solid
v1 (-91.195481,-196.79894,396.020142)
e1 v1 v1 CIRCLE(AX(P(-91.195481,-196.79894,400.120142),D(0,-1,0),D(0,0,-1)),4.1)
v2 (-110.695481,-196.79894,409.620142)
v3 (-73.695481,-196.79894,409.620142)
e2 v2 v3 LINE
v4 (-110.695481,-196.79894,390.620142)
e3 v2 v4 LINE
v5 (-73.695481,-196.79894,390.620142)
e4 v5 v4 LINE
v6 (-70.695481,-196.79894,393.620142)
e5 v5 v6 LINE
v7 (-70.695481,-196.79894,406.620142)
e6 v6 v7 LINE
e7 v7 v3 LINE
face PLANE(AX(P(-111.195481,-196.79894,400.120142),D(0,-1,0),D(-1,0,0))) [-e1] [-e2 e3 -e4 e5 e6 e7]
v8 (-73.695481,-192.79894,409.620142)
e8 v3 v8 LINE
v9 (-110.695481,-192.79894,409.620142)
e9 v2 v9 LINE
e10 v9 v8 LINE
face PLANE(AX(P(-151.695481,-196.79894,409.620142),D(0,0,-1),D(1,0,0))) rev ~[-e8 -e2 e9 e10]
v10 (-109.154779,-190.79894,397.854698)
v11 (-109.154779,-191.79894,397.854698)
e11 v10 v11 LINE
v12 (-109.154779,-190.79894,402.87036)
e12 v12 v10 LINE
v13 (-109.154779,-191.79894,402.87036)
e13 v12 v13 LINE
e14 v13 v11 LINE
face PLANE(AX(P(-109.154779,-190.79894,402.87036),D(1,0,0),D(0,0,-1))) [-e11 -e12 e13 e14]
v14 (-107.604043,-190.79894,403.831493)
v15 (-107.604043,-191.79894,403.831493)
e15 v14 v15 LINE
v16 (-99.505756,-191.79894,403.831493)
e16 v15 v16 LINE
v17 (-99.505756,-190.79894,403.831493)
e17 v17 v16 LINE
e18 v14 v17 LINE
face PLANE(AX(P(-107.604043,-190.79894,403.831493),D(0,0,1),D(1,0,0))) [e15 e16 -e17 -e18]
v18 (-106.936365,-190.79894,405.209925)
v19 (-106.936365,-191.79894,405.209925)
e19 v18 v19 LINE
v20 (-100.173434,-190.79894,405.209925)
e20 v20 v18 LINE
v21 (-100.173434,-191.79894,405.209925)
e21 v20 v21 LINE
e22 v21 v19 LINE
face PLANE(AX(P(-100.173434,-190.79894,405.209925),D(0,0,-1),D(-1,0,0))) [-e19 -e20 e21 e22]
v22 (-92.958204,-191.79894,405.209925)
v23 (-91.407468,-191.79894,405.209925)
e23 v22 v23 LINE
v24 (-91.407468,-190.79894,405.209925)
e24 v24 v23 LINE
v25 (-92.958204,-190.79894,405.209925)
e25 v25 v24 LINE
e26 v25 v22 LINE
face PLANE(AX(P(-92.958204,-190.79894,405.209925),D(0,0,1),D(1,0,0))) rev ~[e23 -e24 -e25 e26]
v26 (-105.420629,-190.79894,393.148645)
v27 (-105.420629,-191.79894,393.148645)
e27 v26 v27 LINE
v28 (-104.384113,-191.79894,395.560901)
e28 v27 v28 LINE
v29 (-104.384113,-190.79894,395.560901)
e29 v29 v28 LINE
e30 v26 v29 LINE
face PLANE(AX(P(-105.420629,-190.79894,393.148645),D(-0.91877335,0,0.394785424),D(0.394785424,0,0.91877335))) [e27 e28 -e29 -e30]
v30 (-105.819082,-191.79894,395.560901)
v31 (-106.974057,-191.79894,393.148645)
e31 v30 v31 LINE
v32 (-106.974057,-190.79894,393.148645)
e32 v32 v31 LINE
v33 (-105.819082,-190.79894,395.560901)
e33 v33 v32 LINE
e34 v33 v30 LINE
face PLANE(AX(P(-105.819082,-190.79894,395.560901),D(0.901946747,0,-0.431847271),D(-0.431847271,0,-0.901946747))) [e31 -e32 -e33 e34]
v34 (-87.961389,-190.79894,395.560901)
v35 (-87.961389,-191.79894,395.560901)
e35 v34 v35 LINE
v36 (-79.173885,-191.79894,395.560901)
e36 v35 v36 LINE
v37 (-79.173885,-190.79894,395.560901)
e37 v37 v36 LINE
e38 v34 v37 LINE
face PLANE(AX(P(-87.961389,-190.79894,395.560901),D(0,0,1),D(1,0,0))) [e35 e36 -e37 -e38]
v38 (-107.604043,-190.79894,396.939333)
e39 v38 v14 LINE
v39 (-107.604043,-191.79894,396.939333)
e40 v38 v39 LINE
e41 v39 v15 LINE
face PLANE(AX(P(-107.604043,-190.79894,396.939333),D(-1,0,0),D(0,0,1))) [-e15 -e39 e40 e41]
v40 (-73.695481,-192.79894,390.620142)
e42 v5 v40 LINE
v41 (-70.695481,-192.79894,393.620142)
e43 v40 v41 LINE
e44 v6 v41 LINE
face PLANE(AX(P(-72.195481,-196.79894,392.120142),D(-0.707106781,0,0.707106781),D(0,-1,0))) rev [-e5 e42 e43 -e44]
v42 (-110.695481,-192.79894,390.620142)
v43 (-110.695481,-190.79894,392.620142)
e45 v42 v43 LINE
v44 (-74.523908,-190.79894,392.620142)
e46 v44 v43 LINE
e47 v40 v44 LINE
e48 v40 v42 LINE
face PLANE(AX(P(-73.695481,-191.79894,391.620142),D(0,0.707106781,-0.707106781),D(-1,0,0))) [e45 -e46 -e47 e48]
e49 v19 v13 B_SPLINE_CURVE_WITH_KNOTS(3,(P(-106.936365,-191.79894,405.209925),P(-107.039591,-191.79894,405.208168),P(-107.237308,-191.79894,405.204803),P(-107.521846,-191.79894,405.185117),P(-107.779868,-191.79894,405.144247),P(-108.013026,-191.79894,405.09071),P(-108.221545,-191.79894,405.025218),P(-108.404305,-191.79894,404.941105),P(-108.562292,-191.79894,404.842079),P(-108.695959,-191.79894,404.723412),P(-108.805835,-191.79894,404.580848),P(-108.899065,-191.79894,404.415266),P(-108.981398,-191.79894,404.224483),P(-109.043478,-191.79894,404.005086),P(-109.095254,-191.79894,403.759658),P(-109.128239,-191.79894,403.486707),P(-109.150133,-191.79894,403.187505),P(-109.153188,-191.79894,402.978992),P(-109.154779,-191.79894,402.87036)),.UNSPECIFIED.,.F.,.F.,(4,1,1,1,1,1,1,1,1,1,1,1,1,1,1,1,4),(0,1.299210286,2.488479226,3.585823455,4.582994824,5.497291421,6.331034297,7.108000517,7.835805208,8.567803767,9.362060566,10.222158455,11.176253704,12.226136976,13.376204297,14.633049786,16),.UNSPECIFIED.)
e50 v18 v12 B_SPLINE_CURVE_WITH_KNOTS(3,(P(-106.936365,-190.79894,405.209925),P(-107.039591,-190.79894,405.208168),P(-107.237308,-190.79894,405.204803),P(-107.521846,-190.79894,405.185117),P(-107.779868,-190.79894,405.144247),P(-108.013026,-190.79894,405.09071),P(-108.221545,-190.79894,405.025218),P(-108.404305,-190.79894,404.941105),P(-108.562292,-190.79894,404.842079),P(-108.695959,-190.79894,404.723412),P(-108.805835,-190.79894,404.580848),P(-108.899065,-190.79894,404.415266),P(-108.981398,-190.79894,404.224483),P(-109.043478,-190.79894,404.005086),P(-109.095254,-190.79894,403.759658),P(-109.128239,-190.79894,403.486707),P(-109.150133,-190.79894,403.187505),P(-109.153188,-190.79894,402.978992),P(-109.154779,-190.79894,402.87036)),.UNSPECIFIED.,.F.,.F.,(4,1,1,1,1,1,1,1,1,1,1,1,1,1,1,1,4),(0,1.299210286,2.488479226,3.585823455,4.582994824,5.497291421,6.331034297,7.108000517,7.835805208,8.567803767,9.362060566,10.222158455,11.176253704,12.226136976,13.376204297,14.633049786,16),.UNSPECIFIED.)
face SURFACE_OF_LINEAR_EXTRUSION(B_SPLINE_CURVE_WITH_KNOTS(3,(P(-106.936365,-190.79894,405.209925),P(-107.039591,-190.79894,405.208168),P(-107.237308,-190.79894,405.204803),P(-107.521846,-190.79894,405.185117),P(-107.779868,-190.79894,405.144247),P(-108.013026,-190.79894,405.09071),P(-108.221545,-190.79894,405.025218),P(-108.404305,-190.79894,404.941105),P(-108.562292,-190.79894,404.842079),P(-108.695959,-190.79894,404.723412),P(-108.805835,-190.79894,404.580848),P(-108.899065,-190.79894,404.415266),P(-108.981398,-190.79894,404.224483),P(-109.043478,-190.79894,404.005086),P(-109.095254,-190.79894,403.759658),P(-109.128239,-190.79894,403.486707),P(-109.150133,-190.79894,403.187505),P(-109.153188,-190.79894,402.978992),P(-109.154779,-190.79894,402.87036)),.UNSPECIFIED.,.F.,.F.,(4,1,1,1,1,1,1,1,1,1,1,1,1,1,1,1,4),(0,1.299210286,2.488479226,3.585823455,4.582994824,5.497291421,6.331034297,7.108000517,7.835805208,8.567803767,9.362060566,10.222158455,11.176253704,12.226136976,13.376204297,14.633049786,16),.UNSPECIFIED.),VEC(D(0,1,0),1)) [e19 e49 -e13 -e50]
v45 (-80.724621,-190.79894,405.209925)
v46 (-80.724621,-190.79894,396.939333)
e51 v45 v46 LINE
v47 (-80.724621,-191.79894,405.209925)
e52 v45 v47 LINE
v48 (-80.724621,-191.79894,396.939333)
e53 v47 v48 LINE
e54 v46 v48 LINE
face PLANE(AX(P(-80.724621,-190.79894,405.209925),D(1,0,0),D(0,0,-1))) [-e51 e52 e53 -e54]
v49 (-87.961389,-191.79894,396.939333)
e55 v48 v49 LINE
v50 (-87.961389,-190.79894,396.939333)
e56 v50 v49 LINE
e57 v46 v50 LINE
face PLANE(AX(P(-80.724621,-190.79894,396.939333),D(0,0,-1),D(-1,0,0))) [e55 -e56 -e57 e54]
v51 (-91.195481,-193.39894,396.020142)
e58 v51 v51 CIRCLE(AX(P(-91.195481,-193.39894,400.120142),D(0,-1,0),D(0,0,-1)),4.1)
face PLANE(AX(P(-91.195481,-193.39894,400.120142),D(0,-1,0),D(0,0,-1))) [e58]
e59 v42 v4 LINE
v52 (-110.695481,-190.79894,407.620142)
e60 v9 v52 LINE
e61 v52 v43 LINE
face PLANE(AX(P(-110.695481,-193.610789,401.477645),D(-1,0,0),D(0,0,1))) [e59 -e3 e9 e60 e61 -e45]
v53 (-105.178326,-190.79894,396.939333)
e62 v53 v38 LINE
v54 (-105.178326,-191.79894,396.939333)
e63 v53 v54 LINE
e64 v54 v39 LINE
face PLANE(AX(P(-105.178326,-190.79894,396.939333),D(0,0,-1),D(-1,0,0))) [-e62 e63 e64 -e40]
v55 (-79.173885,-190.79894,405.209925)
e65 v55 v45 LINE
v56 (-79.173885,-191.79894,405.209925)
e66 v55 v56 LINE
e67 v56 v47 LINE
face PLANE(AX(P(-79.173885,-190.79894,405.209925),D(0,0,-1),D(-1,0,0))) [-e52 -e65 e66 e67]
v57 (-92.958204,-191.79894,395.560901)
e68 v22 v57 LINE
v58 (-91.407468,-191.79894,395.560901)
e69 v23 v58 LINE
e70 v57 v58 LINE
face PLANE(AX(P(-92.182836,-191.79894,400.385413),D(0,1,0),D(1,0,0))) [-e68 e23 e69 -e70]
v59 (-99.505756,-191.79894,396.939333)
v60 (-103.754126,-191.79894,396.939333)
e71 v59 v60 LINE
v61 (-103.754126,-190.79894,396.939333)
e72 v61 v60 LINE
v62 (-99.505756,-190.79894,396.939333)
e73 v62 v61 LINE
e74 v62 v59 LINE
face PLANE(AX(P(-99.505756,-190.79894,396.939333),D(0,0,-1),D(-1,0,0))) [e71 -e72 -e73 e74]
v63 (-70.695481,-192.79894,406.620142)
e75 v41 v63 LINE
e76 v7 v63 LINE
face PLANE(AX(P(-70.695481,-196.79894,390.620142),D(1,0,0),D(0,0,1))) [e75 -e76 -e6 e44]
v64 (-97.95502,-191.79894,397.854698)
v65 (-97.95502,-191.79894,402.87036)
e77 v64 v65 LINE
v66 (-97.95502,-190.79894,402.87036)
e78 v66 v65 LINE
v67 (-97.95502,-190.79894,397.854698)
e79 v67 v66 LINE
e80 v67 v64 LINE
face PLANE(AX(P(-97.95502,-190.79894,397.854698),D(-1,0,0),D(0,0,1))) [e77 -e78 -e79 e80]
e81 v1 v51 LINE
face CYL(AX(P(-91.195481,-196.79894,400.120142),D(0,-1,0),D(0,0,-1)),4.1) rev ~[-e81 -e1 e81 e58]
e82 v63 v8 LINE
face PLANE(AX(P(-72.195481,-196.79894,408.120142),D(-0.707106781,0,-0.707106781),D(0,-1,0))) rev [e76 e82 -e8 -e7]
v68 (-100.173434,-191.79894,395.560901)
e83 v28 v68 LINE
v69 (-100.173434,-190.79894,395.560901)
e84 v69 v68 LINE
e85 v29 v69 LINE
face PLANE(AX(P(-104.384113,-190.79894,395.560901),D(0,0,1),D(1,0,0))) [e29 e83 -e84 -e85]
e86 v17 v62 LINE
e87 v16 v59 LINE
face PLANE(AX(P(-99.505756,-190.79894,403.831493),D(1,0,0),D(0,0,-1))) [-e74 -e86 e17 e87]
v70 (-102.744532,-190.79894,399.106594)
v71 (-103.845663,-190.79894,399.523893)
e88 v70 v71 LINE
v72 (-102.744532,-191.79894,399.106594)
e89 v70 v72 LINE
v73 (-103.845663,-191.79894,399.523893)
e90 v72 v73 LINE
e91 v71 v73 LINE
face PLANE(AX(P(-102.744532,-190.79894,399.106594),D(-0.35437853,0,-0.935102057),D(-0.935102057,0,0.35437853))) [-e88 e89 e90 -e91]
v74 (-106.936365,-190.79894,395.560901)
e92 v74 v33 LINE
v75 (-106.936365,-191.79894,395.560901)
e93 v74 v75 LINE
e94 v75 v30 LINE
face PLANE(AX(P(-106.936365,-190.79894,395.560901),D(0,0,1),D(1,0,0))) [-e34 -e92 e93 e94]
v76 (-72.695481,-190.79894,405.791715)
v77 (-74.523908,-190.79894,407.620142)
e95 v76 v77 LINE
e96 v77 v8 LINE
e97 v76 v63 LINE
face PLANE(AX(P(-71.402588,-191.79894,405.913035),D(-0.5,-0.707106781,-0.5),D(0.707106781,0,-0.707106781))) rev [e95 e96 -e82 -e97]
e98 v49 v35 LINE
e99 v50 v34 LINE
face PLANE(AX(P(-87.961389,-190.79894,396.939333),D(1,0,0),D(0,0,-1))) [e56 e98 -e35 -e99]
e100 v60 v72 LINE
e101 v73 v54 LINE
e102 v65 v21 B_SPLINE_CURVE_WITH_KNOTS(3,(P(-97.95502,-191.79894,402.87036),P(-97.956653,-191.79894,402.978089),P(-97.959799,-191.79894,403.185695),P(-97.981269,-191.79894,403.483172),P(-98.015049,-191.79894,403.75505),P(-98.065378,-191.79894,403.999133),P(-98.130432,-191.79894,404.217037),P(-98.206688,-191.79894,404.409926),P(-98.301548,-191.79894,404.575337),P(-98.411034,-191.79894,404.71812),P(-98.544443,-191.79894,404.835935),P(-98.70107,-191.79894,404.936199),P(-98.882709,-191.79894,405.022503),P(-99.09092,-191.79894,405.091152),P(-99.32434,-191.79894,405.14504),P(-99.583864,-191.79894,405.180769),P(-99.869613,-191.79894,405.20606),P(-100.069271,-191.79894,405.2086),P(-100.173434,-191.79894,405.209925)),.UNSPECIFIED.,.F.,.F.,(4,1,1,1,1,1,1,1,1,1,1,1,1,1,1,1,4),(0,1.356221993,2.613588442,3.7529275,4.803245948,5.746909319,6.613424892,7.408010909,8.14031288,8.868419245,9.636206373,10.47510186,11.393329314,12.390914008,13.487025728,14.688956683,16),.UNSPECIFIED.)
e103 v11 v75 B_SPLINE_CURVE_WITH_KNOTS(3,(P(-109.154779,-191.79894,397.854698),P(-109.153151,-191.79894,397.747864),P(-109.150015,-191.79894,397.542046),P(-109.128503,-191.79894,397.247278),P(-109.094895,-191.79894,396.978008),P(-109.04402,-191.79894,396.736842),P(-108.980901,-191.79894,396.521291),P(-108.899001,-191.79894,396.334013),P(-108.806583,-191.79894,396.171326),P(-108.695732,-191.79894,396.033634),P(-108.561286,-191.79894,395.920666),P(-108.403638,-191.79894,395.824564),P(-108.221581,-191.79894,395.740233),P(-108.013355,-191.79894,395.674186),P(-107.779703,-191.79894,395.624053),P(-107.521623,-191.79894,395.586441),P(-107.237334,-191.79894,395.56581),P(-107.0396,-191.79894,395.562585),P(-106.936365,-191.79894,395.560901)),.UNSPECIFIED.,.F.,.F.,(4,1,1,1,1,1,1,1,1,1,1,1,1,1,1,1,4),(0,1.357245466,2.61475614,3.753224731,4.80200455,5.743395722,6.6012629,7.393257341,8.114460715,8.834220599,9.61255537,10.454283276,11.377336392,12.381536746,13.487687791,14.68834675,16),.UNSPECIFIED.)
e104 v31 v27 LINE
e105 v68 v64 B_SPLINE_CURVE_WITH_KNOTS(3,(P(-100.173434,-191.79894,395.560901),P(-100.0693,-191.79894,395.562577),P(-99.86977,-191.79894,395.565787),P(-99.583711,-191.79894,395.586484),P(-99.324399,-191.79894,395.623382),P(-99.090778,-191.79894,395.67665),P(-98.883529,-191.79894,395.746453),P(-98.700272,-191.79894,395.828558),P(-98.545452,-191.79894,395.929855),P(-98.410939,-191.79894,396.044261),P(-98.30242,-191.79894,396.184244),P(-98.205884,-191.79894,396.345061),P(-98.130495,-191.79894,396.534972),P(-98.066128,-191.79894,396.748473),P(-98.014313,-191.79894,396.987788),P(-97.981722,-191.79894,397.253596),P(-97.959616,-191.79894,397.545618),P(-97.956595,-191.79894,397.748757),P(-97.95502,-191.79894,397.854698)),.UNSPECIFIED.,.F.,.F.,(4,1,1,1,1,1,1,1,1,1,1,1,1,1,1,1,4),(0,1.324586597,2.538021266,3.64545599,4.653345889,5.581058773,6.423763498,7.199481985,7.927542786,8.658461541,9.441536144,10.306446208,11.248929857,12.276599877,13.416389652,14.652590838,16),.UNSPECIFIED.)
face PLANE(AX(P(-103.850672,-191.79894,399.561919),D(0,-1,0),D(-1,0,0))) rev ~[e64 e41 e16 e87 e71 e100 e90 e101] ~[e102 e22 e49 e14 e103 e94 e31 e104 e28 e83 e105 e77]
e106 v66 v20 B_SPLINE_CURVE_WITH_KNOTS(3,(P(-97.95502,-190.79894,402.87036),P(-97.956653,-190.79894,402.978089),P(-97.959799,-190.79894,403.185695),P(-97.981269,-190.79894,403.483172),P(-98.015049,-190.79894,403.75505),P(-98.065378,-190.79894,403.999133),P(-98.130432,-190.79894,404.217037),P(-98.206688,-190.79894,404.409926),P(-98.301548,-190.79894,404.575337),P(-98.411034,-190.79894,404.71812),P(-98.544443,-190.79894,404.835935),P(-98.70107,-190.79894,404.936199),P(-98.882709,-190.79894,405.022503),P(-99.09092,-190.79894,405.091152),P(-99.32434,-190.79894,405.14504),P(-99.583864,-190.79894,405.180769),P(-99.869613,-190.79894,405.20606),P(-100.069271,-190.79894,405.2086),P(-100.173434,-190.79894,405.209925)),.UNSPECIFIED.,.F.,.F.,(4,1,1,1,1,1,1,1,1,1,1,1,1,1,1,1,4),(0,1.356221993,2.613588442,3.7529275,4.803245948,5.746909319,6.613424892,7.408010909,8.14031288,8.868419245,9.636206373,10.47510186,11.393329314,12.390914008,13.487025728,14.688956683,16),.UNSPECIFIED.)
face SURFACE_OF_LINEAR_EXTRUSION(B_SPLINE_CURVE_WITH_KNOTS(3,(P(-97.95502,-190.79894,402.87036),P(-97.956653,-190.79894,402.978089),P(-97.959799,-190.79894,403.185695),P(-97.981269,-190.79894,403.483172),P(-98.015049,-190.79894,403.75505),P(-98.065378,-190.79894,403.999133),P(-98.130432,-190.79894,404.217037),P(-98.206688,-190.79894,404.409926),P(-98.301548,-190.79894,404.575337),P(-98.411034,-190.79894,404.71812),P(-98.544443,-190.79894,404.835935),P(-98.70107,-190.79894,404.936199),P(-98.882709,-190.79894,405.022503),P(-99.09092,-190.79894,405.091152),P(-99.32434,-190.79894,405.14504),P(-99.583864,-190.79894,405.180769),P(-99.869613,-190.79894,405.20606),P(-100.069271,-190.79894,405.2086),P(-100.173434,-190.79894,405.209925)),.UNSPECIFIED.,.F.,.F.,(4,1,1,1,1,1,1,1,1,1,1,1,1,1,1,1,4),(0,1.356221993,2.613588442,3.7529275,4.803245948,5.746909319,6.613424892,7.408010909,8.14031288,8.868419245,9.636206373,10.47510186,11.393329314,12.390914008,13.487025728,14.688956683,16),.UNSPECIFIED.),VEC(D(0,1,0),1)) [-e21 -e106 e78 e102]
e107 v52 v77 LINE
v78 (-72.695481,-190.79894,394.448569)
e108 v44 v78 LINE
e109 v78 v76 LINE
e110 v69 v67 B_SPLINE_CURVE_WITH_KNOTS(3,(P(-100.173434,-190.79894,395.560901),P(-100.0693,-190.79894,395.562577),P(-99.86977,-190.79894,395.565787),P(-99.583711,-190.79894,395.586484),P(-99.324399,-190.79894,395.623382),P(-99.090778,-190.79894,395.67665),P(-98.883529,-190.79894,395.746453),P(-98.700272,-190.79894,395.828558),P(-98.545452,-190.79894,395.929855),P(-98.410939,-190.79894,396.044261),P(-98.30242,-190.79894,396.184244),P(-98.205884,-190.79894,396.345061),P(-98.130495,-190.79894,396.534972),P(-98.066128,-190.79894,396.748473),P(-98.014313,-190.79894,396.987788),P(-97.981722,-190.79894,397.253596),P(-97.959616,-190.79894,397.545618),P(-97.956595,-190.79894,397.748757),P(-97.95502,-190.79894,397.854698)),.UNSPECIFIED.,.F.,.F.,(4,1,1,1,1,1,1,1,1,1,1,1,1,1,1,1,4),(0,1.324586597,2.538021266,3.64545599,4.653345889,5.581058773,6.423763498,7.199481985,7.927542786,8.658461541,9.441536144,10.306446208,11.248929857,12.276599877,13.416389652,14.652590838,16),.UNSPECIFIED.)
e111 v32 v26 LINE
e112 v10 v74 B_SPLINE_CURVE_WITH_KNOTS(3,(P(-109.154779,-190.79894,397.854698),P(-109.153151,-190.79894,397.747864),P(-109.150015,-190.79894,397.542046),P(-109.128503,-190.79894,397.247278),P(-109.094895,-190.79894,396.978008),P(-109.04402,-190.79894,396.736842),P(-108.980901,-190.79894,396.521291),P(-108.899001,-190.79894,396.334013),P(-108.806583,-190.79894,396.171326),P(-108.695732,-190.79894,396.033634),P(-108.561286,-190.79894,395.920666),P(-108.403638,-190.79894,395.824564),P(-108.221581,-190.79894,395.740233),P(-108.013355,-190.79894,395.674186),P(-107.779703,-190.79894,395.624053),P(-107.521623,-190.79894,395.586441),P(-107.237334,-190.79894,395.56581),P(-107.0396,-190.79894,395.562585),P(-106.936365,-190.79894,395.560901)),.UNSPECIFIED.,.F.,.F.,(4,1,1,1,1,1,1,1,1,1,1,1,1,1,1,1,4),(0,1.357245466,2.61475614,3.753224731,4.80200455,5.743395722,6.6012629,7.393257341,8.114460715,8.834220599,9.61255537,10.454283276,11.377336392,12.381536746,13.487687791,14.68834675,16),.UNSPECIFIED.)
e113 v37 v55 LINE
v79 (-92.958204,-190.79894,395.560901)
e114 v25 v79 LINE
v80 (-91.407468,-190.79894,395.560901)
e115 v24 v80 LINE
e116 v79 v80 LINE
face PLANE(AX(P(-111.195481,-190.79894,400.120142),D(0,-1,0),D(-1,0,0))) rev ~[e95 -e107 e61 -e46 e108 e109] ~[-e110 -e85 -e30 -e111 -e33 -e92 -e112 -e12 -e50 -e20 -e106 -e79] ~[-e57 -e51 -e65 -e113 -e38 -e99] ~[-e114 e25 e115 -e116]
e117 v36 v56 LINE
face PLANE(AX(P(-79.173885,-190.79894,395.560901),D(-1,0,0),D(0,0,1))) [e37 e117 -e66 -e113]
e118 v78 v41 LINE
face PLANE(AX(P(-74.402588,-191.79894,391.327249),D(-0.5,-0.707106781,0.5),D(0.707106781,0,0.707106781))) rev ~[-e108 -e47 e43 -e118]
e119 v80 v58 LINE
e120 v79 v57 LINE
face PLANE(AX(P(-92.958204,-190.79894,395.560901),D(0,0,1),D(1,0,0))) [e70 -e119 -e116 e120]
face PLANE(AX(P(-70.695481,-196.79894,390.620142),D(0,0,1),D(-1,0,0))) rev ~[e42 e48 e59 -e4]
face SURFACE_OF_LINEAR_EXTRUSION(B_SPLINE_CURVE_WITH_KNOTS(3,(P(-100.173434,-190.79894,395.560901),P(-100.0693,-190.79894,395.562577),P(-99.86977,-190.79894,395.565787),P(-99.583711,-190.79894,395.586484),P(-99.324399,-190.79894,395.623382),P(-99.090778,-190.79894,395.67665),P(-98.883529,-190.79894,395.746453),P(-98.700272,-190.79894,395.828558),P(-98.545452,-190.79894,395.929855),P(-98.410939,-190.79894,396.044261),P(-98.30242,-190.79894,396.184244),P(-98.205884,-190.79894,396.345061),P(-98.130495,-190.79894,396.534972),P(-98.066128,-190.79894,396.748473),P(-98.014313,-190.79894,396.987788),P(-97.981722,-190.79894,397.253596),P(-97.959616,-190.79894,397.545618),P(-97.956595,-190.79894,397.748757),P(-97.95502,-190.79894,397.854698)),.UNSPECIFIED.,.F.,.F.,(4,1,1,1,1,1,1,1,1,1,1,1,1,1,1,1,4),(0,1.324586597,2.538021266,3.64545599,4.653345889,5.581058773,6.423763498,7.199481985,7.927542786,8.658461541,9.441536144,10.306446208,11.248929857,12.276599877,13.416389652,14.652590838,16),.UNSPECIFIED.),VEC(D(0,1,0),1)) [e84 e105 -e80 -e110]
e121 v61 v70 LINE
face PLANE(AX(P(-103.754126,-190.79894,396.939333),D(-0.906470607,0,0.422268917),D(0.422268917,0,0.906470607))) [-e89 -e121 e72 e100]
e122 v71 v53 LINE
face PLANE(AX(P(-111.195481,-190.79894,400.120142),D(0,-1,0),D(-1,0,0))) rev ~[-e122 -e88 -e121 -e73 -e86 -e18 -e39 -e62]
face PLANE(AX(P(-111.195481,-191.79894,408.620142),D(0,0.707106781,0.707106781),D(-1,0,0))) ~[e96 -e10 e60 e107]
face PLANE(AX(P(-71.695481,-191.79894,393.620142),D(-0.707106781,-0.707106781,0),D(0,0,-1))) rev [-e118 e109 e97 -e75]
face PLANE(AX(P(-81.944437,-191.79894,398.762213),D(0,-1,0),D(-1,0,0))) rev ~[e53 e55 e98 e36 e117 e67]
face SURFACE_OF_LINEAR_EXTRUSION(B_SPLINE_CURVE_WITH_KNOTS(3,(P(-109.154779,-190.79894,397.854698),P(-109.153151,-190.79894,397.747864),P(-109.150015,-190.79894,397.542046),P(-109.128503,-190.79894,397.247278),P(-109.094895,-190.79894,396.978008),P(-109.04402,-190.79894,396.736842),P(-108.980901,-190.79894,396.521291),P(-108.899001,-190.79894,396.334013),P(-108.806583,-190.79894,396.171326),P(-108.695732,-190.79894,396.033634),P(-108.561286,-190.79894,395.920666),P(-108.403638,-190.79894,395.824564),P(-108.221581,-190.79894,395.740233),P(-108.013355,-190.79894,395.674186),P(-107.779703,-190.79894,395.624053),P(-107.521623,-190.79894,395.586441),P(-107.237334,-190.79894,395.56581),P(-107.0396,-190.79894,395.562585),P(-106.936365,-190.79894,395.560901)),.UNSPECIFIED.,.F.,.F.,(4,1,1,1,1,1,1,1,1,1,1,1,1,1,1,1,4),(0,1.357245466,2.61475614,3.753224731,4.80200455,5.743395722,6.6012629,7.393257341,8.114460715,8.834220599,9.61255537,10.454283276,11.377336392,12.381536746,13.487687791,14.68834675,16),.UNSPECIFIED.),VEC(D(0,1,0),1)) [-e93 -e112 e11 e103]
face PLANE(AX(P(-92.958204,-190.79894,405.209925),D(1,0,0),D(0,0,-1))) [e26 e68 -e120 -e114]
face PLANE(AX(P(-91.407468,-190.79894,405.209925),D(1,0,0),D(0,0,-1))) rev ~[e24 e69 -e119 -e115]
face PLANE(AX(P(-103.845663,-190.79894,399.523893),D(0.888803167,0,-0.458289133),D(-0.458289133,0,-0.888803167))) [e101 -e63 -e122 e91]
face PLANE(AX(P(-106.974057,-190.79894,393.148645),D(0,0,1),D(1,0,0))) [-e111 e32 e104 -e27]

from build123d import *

# Parameters (mm, degrees)
BOSS_EXTRUDE1_DEPTH = 6
SKETCH2_W           = 1.55073591
SKETCH2_H           = 9.649023438
SKETCH2_W_2         = 1.550735909
CUT_EXTRUDE1_DEPTH  = 1
SKETCH4_W           = 43.347942051
SKETCH4_H           = 26.329646459
CUT_EXTRUDE2_DEPTH  = 10
CHAMFER1_SIZE       = 3
CHAMFER2_SIZE       = 2
SKETCH5_W           = 34.860169367
SKETCH5_H           = 17.866082473
CUT_EXTRUDE3_DEPTH  = 0.5
SKETCH6_R           = 4.1
CUT_EXTRUDE4_DEPTH  = 3.4


with BuildPart() as part:
    # Sketch1 → Boss-Extrude1 (new body)
    with BuildSketch(Plane(origin=(0, -196.798939869, 0), x_dir=(1, 0, 0), z_dir=(0, 1, 0))):
        Polygon((-110.695481055, -390.620141885), (-70.695481055, -390.620141885), (-70.695481055, -409.620141885), (-110.695481055, -409.620141885), (-151.695481055, -409.620141885), (-151.695481055, -390.620141885), align=None)
    extrude(amount=BOSS_EXTRUDE1_DEPTH)

    # Sketch2 → Cut-Extrude1 (cut)
    # profile 1 of 6: a face of its own
    with BuildSketch(Plane(origin=(0, -190.798939869, 0), x_dir=(1, 0, 0), z_dir=(0, 1, 0))):
        with BuildLine():
            add(Edge.make_bspline(
                [(-140.767176982, -405.209924667), (-140.982622928, -405.208412821), (-141.394982016, -405.205519181), (-141.98403336, -405.168701103), (-142.517358029, -405.117955452), (-142.996891336, -405.040429638), (-143.431861328, -404.937751856), (-143.828275274, -404.808826708), (-144.192604534, -404.655107583), (-144.412843494, -404.524922655), (-144.520173264, -404.46147921)],
                knots=[0, 0, 0, 0, 1.333778163, 2.552823848, 3.653108193, 4.649746513, 5.558133507, 6.417402386, 7.228747549, 8, 8, 8, 8], degree=3))
            add(Edge.make_bspline(
                [(-144.520173264, -404.46147921), (-144.672688651, -404.354540566), (-144.977706991, -404.140671998), (-145.372980808, -403.740179693), (-145.72204175, -403.288685781), (-146.015251375, -402.783895607), (-146.252341242, -402.23844628), (-146.422101614, -401.66260039), (-146.524137936, -401.061196848), (-146.537803169, -400.652341907), (-146.544745145, -400.444642444)],
                knots=[0, 0, 0, 0, 0.952297785, 1.904517931, 2.867930349, 3.869019748, 4.885904814, 5.906780791, 6.936638737, 8, 8, 8, 8], degree=3))
            add(Edge.make_bspline(
                [(-146.544745145, -400.444642444), (-146.539017026, -400.224388593), (-146.527802756, -399.793184944), (-146.425839385, -399.164163809), (-146.258098069, -398.569953885), (-146.027848138, -398.012133469), (-145.734933397, -397.499500284), (-145.384408604, -397.041985203), (-144.985328734, -396.634035669), (-144.675593052, -396.417833194), (-144.520173264, -396.309346685)],
                knots=[0, 0, 0, 0, 1.100129358, 2.153786604, 3.174592563, 4.179911314, 5.162319574, 6.115853573, 7.05456925, 8, 8, 8, 8], degree=3))
            add(Edge.make_bspline(
                [(-144.520173264, -396.309346685), (-144.415407214, -396.247970567), (-144.198209286, -396.120727383), (-143.840423238, -395.967019912), (-143.444768852, -395.841274433), (-143.011380567, -395.735735637), (-142.529145335, -395.655193263), (-141.993148894, -395.601522013), (-141.399450617, -395.565451573), (-140.984411915, -395.562464625), (-140.767176982, -395.560901229)],
                knots=[0, 0, 0, 0, 0.751413761, 1.557809164, 2.404944974, 3.320203742, 4.317937033, 5.430050062, 6.654865437, 8, 8, 8, 8], degree=3))
            Line((-140.767176982, -395.560901229), (-135.517289788, -395.560901229))
            Line((-135.517289788, -395.560901229), (-135.517289788, -405.209924667))
            Line((-135.517289788, -405.209924667), (-140.767176982, -405.209924667))
        make_face()
        with BuildLine():
            Line((-140.538335746, -403.831492747), (-137.068025698, -403.831492747))
            Line((-137.068025698, -403.831492747), (-137.068025698, -396.939333149))
            Line((-137.068025698, -396.939333149), (-140.538335746, -396.939333149))
            add(Edge.make_bspline(
                [(-140.538335746, -396.939333149), (-140.726862755, -396.941898287), (-141.089956251, -396.946838613), (-141.61301485, -396.984845883), (-142.093527417, -397.044798091), (-142.531495923, -397.132160177), (-142.925368528, -397.248552244), (-143.278930228, -397.383732816), (-143.589154837, -397.547989389), (-143.856977936, -397.741453756), (-144.088661152, -397.964049484), (-144.285418794, -398.219866085), (-144.453911174, -398.507093156), (-144.587443165, -398.829479607), (-144.695661065, -399.182540893), (-144.769772109, -399.569730192), (-144.811875271, -399.989610443), (-144.818346787, -400.28031641), (-144.821705246, -400.431181195)],
                knots=[0, 0, 0, 0, 1.40931624, 2.714271877, 3.918424909, 5.027624621, 6.048757475, 6.985660279, 7.853111911, 8.665027323, 9.447928266, 10.246427284, 11.070312611, 11.930128696, 12.849083366, 13.826707191, 14.872147839, 16, 16, 16, 16], degree=3))
            add(Edge.make_bspline(
                [(-144.821705246, -400.431181195), (-144.818709771, -400.576712398), (-144.812924864, -400.857764438), (-144.765683368, -401.263673078), (-144.694488189, -401.639383199), (-144.580929863, -401.980833169), (-144.445105089, -402.294186016), (-144.27545686, -402.57538752), (-144.073112413, -402.824282209), (-143.83895635, -403.042456395), (-143.566561363, -403.230826533), (-143.2546296, -403.391353977), (-142.901690894, -403.528470783), (-142.507862117, -403.640795062), (-142.072601063, -403.725173206), (-141.597799376, -403.786080538), (-141.081882008, -403.823960231), (-140.724169188, -403.828917449), (-140.538335746, -403.831492747)],
                knots=[0, 0, 0, 0, 1.1029475, 2.130028734, 3.094733, 3.996236287, 4.852145578, 5.679426148, 6.477428238, 7.276560664, 8.097578654, 8.980088779, 9.930191586, 10.963809582, 12.080624623, 13.288249086, 14.591233026, 16, 16, 16, 16], degree=3))
        make_face(mode=Mode.SUBTRACT)
    # profile 2 of 6: a face of its own
    with BuildSketch(Plane(origin=(0, -190.798939869, 0), x_dir=(1, 0, 0), z_dir=(0, 1, 0))):
        with Locations((-129.745106125, -400.385412948)):
            Rectangle(SKETCH2_W, SKETCH2_H)
    # profile 3 of 6: a face of its own
    with BuildSketch(Plane(origin=(0, -190.798939869, 0), x_dir=(1, 0, 0), z_dir=(0, 1, 0))):
        with BuildLine():
            Line((-115.357722964, -405.209924667), (-115.357722964, -396.939333149))
            Line((-115.357722964, -396.939333149), (-122.422186552, -396.939333149))
            Line((-122.422186552, -396.939333149), (-122.422186552, -405.209924667))
            Line((-122.422186552, -405.209924667), (-123.972922461, -405.209924667))
            Line((-123.972922461, -405.209924667), (-123.972922461, -397.876236094))
            add(Edge.make_bspline(
                [(-123.972922461, -397.876236094), (-123.97130062, -397.768503726), (-123.968175155, -397.560891645), (-123.946562754, -397.263453332), (-123.913361153, -396.992319774), (-123.861781613, -396.749497692), (-123.798905063, -396.532206755), (-123.717930323, -396.342601202), (-123.623893906, -396.179127334), (-123.51405496, -396.039134081), (-123.380645379, -395.924069451), (-123.223997755, -395.826555258), (-123.043098505, -395.743432714), (-122.835801675, -395.677092248), (-122.603622791, -395.623157153), (-122.345091238, -395.586720416), (-122.061773796, -395.565800066), (-121.864927889, -395.56257696), (-121.76258534, -395.560901229)],
                knots=[0, 0, 0, 0, 1.365025829, 2.630554399, 3.777289411, 4.823296905, 5.773086012, 6.639126, 7.429026898, 8.157168554, 8.882463115, 9.649102086, 10.488604984, 11.398409027, 12.402469484, 13.50569655, 14.703181711, 16, 16, 16, 16], degree=3))
            Line((-121.76258534, -395.560901229), (-116.009247426, -395.560901229))
            add(Edge.make_bspline(
                [(-116.009247426, -395.560901229), (-115.906920359, -395.562687865), (-115.710104231, -395.566124284), (-115.427333413, -395.58552546), (-115.171085642, -395.626525893), (-114.940696482, -395.680226348), (-114.733396449, -395.745508539), (-114.553275043, -395.832261863), (-114.396325587, -395.931154528), (-114.266726678, -396.050908492), (-114.154943277, -396.190042043), (-114.062808079, -396.355700348), (-113.981390872, -396.544829811), (-113.917656822, -396.761041229), (-113.866888225, -397.002247145), (-113.833414163, -397.270620412), (-113.811650677, -397.564474201), (-113.808585204, -397.769400211), (-113.806987054, -397.876236094)],
                knots=[0, 0, 0, 0, 1.301446602, 2.503205558, 3.60080036, 4.597332017, 5.510383128, 6.357737689, 7.133266863, 7.860254787, 8.590995162, 9.393593455, 10.262724318, 11.204977956, 12.254718625, 13.394230236, 14.64151108, 16, 16, 16, 16], degree=3))
            Line((-113.806987054, -397.876236094), (-113.806987054, -405.209924667))
            Line((-113.806987054, -405.209924667), (-115.357722964, -405.209924667))
        make_face()
    # profile 4 of 6: a face of its own
    with BuildSketch(Plane(origin=(0, -190.798939869, 0), x_dir=(1, 0, 0), z_dir=(0, 1, 0))):
        with BuildLine():
            add(Edge.make_bspline(
                [(-97.955019978, -402.870359553), (-97.956652565, -402.978088999), (-97.959798739, -403.185695451), (-97.981268964, -403.483172415), (-98.015048775, -403.755050365), (-98.065378023, -403.999133459), (-98.1304323, -404.217037438), (-98.206687836, -404.40992551), (-98.301548404, -404.575336569), (-98.411034046, -404.718120224), (-98.544442988, -404.835934988), (-98.701069946, -404.936199437), (-98.882708774, -405.022503111), (-99.090920415, -405.091152386), (-99.324340246, -405.145039922), (-99.583864206, -405.180769412), (-99.869613361, -405.206059906), (-100.069270672, -405.208599655), (-100.173433849, -405.209924667)],
                knots=[0, 0, 0, 0, 1.356221993, 2.613588442, 3.7529275, 4.803245948, 5.746909319, 6.613424892, 7.408010909, 8.14031288, 8.868419245, 9.636206373, 10.47510186, 11.393329314, 12.390914008, 13.487025728, 14.688956683, 16, 16, 16, 16], degree=3))
            Line((-100.173433849, -405.209924667), (-106.936365454, -405.209924667))
            add(Edge.make_bspline(
                [(-106.936365454, -405.209924667), (-107.03959143, -405.208168009), (-107.237308227, -405.204803345), (-107.521846366, -405.185117085), (-107.779867844, -405.144247356), (-108.01302586, -405.090709797), (-108.221545349, -405.025218465), (-108.404305019, -404.941105061), (-108.562292124, -404.842079279), (-108.695959314, -404.723411798), (-108.805834581, -404.580848257), (-108.899064948, -404.415265905), (-108.981397593, -404.224482592), (-109.043478168, -404.005085856), (-109.09525377, -403.759657576), (-109.128239011, -403.486707323), (-109.150133277, -403.187505345), (-109.153187914, -402.978991502), (-109.154779325, -402.870359553)],
                knots=[0, 0, 0, 0, 1.299210286, 2.488479226, 3.585823455, 4.582994824, 5.497291421, 6.331034297, 7.108000517, 7.835805208, 8.567803767, 9.362060566, 10.222158455, 11.176253704, 12.226136976, 13.376204297, 14.633049786, 16, 16, 16, 16], degree=3))
            Line((-109.154779325, -402.870359553), (-109.154779325, -397.854698095))
            add(Edge.make_bspline(
                [(-109.154779325, -397.854698095), (-109.153151378, -397.747864039), (-109.150015111, -397.542046438), (-109.128503265, -397.247278496), (-109.094894709, -396.978008156), (-109.044020497, -396.736842057), (-108.980901322, -396.521291491), (-108.899001076, -396.334013033), (-108.80658263, -396.171325929), (-108.69573208, -396.033634198), (-108.561285836, -395.920666277), (-108.403637682, -395.824563938), (-108.221581059, -395.740232658), (-108.01335545, -395.674186162), (-107.77970286, -395.624053469), (-107.52162289, -395.586441232), (-107.237333904, -395.5658101), (-107.039600238, -395.562585014), (-106.936365454, -395.560901229)],
                knots=[0, 0, 0, 0, 1.357245466, 2.61475614, 3.753224731, 4.80200455, 5.743395722, 6.6012629, 7.393257341, 8.114460715, 8.834220599, 9.61255537, 10.454283276, 11.377336392, 12.381536746, 13.487687791, 14.68834675, 16, 16, 16, 16], degree=3))
            Line((-106.936365454, -395.560901229), (-105.81908177, -395.560901229))
            Line((-105.81908177, -395.560901229), (-106.974056952, -393.14864537))
            Line((-106.974056952, -393.14864537), (-105.420628793, -393.14864537))
            Line((-105.420628793, -393.14864537), (-104.384112603, -395.560901229))
            Line((-104.384112603, -395.560901229), (-100.173433849, -395.560901229))
            add(Edge.make_bspline(
                [(-100.173433849, -395.560901229), (-100.069299861, -395.562576695), (-99.869770228, -395.565787032), (-99.583710784, -395.586483719), (-99.324398952, -395.623381546), (-99.090777766, -395.67665049), (-98.883528866, -395.746452514), (-98.700271675, -395.828557698), (-98.545451596, -395.929855275), (-98.410938513, -396.044261005), (-98.302420462, -396.184244467), (-98.205884472, -396.345061043), (-98.130494516, -396.534972277), (-98.066128283, -396.748472614), (-98.014313393, -396.98778752), (-97.981722229, -397.253596433), (-97.959616393, -397.545617805), (-97.95659546, -397.74875672), (-97.955019978, -397.854698095)],
                knots=[0, 0, 0, 0, 1.324586597, 2.538021266, 3.64545599, 4.653345889, 5.581058773, 6.423763498, 7.199481985, 7.927542786, 8.658461541, 9.441536144, 10.306446208, 11.248929857, 12.276599877, 13.416389652, 14.652590838, 16, 16, 16, 16], degree=3))
            Line((-97.955019978, -397.854698095), (-97.955019978, -402.870359553))
        make_face()
        Polygon((-105.178326307, -396.939333149), (-107.604043416, -396.939333149), (-107.604043416, -403.831492747), (-99.505755888, -403.831492747), (-99.505755888, -396.939333149), (-103.75412614, -396.939333149), (-102.744532449, -399.106594272), (-103.845662635, -399.523892998), align=None, mode=Mode.SUBTRACT)
    # profile 5 of 6: a face of its own
    with BuildSketch(Plane(origin=(0, -190.798939869, 0), x_dir=(1, 0, 0), z_dir=(0, 1, 0))):
        with Locations((-92.182836315, -400.385412948)):
            Rectangle(SKETCH2_W_2, SKETCH2_H)
    # profile 6 of 6: a face of its own
    with BuildSketch(Plane(origin=(0, -190.798939869, 0), x_dir=(1, 0, 0), z_dir=(0, 1, 0))):
        Polygon((-79.173885073, -395.560901229), (-79.173885073, -405.209924667), (-80.724620983, -405.209924667), (-80.724620983, -396.939333149), (-87.961388561, -396.939333149), (-87.961388561, -395.560901229), align=None)
    extrude(amount=-CUT_EXTRUDE1_DEPTH, mode=Mode.SUBTRACT)

    # Sketch4 → Cut-Extrude2 (cut)
    with BuildSketch(Plane(origin=(0, -190.798939869, 0), x_dir=(1, 0, 0), z_dir=(0, 1, 0))):
        with Locations((-132.86945208, -396.455318656)):
            Rectangle(SKETCH4_W, SKETCH4_H)
    extrude(amount=-CUT_EXTRUDE2_DEPTH, mode=Mode.SUBTRACT)

    # Chamfer1
    chamfer1_edges = [part.edges().sort_by_distance(p)[0] for p in [
        (-70.695481055, -193.798939869, 390.620141885),
        (-70.695481055, -193.798939869, 409.620141885),
    ]]
    chamfer(chamfer1_edges, length=CHAMFER1_SIZE)

    # Chamfer2
    chamfer2_edges = [part.edges().sort_by_distance(p)[0] for p in [
        (-92.445481055, -190.798939869, 409.620141885),
        (-92.445481055, -190.798939869, 390.620141885),
        (-70.695481055, -190.798939869, 400.120141885),
        (-72.195481055, -190.798939869, 408.120141885),
        (-72.195481055, -190.798939869, 392.120141885),
    ]]
    chamfer(chamfer2_edges, length=CHAMFER2_SIZE)

    # Sketch5 → Cut-Extrude3 (cut)
    with BuildSketch(Plane.ZY.offset(111.195481055)):
        with Locations((401.477645416, -193.610788767)):
            Rectangle(SKETCH5_W, SKETCH5_H)
    extrude(amount=-CUT_EXTRUDE3_DEPTH, mode=Mode.SUBTRACT)

    # Sketch6 → Cut-Extrude4 (cut)
    with BuildSketch(Plane.XZ.offset(196.798939869)):
        with Locations(Location((-91.195481055, 400.120141885, 0), (0, 0, 270))):
            Circle(SKETCH6_R)
    extrude(amount=-CUT_EXTRUDE4_DEPTH, mode=Mode.SUBTRACT)


solid = part.part
